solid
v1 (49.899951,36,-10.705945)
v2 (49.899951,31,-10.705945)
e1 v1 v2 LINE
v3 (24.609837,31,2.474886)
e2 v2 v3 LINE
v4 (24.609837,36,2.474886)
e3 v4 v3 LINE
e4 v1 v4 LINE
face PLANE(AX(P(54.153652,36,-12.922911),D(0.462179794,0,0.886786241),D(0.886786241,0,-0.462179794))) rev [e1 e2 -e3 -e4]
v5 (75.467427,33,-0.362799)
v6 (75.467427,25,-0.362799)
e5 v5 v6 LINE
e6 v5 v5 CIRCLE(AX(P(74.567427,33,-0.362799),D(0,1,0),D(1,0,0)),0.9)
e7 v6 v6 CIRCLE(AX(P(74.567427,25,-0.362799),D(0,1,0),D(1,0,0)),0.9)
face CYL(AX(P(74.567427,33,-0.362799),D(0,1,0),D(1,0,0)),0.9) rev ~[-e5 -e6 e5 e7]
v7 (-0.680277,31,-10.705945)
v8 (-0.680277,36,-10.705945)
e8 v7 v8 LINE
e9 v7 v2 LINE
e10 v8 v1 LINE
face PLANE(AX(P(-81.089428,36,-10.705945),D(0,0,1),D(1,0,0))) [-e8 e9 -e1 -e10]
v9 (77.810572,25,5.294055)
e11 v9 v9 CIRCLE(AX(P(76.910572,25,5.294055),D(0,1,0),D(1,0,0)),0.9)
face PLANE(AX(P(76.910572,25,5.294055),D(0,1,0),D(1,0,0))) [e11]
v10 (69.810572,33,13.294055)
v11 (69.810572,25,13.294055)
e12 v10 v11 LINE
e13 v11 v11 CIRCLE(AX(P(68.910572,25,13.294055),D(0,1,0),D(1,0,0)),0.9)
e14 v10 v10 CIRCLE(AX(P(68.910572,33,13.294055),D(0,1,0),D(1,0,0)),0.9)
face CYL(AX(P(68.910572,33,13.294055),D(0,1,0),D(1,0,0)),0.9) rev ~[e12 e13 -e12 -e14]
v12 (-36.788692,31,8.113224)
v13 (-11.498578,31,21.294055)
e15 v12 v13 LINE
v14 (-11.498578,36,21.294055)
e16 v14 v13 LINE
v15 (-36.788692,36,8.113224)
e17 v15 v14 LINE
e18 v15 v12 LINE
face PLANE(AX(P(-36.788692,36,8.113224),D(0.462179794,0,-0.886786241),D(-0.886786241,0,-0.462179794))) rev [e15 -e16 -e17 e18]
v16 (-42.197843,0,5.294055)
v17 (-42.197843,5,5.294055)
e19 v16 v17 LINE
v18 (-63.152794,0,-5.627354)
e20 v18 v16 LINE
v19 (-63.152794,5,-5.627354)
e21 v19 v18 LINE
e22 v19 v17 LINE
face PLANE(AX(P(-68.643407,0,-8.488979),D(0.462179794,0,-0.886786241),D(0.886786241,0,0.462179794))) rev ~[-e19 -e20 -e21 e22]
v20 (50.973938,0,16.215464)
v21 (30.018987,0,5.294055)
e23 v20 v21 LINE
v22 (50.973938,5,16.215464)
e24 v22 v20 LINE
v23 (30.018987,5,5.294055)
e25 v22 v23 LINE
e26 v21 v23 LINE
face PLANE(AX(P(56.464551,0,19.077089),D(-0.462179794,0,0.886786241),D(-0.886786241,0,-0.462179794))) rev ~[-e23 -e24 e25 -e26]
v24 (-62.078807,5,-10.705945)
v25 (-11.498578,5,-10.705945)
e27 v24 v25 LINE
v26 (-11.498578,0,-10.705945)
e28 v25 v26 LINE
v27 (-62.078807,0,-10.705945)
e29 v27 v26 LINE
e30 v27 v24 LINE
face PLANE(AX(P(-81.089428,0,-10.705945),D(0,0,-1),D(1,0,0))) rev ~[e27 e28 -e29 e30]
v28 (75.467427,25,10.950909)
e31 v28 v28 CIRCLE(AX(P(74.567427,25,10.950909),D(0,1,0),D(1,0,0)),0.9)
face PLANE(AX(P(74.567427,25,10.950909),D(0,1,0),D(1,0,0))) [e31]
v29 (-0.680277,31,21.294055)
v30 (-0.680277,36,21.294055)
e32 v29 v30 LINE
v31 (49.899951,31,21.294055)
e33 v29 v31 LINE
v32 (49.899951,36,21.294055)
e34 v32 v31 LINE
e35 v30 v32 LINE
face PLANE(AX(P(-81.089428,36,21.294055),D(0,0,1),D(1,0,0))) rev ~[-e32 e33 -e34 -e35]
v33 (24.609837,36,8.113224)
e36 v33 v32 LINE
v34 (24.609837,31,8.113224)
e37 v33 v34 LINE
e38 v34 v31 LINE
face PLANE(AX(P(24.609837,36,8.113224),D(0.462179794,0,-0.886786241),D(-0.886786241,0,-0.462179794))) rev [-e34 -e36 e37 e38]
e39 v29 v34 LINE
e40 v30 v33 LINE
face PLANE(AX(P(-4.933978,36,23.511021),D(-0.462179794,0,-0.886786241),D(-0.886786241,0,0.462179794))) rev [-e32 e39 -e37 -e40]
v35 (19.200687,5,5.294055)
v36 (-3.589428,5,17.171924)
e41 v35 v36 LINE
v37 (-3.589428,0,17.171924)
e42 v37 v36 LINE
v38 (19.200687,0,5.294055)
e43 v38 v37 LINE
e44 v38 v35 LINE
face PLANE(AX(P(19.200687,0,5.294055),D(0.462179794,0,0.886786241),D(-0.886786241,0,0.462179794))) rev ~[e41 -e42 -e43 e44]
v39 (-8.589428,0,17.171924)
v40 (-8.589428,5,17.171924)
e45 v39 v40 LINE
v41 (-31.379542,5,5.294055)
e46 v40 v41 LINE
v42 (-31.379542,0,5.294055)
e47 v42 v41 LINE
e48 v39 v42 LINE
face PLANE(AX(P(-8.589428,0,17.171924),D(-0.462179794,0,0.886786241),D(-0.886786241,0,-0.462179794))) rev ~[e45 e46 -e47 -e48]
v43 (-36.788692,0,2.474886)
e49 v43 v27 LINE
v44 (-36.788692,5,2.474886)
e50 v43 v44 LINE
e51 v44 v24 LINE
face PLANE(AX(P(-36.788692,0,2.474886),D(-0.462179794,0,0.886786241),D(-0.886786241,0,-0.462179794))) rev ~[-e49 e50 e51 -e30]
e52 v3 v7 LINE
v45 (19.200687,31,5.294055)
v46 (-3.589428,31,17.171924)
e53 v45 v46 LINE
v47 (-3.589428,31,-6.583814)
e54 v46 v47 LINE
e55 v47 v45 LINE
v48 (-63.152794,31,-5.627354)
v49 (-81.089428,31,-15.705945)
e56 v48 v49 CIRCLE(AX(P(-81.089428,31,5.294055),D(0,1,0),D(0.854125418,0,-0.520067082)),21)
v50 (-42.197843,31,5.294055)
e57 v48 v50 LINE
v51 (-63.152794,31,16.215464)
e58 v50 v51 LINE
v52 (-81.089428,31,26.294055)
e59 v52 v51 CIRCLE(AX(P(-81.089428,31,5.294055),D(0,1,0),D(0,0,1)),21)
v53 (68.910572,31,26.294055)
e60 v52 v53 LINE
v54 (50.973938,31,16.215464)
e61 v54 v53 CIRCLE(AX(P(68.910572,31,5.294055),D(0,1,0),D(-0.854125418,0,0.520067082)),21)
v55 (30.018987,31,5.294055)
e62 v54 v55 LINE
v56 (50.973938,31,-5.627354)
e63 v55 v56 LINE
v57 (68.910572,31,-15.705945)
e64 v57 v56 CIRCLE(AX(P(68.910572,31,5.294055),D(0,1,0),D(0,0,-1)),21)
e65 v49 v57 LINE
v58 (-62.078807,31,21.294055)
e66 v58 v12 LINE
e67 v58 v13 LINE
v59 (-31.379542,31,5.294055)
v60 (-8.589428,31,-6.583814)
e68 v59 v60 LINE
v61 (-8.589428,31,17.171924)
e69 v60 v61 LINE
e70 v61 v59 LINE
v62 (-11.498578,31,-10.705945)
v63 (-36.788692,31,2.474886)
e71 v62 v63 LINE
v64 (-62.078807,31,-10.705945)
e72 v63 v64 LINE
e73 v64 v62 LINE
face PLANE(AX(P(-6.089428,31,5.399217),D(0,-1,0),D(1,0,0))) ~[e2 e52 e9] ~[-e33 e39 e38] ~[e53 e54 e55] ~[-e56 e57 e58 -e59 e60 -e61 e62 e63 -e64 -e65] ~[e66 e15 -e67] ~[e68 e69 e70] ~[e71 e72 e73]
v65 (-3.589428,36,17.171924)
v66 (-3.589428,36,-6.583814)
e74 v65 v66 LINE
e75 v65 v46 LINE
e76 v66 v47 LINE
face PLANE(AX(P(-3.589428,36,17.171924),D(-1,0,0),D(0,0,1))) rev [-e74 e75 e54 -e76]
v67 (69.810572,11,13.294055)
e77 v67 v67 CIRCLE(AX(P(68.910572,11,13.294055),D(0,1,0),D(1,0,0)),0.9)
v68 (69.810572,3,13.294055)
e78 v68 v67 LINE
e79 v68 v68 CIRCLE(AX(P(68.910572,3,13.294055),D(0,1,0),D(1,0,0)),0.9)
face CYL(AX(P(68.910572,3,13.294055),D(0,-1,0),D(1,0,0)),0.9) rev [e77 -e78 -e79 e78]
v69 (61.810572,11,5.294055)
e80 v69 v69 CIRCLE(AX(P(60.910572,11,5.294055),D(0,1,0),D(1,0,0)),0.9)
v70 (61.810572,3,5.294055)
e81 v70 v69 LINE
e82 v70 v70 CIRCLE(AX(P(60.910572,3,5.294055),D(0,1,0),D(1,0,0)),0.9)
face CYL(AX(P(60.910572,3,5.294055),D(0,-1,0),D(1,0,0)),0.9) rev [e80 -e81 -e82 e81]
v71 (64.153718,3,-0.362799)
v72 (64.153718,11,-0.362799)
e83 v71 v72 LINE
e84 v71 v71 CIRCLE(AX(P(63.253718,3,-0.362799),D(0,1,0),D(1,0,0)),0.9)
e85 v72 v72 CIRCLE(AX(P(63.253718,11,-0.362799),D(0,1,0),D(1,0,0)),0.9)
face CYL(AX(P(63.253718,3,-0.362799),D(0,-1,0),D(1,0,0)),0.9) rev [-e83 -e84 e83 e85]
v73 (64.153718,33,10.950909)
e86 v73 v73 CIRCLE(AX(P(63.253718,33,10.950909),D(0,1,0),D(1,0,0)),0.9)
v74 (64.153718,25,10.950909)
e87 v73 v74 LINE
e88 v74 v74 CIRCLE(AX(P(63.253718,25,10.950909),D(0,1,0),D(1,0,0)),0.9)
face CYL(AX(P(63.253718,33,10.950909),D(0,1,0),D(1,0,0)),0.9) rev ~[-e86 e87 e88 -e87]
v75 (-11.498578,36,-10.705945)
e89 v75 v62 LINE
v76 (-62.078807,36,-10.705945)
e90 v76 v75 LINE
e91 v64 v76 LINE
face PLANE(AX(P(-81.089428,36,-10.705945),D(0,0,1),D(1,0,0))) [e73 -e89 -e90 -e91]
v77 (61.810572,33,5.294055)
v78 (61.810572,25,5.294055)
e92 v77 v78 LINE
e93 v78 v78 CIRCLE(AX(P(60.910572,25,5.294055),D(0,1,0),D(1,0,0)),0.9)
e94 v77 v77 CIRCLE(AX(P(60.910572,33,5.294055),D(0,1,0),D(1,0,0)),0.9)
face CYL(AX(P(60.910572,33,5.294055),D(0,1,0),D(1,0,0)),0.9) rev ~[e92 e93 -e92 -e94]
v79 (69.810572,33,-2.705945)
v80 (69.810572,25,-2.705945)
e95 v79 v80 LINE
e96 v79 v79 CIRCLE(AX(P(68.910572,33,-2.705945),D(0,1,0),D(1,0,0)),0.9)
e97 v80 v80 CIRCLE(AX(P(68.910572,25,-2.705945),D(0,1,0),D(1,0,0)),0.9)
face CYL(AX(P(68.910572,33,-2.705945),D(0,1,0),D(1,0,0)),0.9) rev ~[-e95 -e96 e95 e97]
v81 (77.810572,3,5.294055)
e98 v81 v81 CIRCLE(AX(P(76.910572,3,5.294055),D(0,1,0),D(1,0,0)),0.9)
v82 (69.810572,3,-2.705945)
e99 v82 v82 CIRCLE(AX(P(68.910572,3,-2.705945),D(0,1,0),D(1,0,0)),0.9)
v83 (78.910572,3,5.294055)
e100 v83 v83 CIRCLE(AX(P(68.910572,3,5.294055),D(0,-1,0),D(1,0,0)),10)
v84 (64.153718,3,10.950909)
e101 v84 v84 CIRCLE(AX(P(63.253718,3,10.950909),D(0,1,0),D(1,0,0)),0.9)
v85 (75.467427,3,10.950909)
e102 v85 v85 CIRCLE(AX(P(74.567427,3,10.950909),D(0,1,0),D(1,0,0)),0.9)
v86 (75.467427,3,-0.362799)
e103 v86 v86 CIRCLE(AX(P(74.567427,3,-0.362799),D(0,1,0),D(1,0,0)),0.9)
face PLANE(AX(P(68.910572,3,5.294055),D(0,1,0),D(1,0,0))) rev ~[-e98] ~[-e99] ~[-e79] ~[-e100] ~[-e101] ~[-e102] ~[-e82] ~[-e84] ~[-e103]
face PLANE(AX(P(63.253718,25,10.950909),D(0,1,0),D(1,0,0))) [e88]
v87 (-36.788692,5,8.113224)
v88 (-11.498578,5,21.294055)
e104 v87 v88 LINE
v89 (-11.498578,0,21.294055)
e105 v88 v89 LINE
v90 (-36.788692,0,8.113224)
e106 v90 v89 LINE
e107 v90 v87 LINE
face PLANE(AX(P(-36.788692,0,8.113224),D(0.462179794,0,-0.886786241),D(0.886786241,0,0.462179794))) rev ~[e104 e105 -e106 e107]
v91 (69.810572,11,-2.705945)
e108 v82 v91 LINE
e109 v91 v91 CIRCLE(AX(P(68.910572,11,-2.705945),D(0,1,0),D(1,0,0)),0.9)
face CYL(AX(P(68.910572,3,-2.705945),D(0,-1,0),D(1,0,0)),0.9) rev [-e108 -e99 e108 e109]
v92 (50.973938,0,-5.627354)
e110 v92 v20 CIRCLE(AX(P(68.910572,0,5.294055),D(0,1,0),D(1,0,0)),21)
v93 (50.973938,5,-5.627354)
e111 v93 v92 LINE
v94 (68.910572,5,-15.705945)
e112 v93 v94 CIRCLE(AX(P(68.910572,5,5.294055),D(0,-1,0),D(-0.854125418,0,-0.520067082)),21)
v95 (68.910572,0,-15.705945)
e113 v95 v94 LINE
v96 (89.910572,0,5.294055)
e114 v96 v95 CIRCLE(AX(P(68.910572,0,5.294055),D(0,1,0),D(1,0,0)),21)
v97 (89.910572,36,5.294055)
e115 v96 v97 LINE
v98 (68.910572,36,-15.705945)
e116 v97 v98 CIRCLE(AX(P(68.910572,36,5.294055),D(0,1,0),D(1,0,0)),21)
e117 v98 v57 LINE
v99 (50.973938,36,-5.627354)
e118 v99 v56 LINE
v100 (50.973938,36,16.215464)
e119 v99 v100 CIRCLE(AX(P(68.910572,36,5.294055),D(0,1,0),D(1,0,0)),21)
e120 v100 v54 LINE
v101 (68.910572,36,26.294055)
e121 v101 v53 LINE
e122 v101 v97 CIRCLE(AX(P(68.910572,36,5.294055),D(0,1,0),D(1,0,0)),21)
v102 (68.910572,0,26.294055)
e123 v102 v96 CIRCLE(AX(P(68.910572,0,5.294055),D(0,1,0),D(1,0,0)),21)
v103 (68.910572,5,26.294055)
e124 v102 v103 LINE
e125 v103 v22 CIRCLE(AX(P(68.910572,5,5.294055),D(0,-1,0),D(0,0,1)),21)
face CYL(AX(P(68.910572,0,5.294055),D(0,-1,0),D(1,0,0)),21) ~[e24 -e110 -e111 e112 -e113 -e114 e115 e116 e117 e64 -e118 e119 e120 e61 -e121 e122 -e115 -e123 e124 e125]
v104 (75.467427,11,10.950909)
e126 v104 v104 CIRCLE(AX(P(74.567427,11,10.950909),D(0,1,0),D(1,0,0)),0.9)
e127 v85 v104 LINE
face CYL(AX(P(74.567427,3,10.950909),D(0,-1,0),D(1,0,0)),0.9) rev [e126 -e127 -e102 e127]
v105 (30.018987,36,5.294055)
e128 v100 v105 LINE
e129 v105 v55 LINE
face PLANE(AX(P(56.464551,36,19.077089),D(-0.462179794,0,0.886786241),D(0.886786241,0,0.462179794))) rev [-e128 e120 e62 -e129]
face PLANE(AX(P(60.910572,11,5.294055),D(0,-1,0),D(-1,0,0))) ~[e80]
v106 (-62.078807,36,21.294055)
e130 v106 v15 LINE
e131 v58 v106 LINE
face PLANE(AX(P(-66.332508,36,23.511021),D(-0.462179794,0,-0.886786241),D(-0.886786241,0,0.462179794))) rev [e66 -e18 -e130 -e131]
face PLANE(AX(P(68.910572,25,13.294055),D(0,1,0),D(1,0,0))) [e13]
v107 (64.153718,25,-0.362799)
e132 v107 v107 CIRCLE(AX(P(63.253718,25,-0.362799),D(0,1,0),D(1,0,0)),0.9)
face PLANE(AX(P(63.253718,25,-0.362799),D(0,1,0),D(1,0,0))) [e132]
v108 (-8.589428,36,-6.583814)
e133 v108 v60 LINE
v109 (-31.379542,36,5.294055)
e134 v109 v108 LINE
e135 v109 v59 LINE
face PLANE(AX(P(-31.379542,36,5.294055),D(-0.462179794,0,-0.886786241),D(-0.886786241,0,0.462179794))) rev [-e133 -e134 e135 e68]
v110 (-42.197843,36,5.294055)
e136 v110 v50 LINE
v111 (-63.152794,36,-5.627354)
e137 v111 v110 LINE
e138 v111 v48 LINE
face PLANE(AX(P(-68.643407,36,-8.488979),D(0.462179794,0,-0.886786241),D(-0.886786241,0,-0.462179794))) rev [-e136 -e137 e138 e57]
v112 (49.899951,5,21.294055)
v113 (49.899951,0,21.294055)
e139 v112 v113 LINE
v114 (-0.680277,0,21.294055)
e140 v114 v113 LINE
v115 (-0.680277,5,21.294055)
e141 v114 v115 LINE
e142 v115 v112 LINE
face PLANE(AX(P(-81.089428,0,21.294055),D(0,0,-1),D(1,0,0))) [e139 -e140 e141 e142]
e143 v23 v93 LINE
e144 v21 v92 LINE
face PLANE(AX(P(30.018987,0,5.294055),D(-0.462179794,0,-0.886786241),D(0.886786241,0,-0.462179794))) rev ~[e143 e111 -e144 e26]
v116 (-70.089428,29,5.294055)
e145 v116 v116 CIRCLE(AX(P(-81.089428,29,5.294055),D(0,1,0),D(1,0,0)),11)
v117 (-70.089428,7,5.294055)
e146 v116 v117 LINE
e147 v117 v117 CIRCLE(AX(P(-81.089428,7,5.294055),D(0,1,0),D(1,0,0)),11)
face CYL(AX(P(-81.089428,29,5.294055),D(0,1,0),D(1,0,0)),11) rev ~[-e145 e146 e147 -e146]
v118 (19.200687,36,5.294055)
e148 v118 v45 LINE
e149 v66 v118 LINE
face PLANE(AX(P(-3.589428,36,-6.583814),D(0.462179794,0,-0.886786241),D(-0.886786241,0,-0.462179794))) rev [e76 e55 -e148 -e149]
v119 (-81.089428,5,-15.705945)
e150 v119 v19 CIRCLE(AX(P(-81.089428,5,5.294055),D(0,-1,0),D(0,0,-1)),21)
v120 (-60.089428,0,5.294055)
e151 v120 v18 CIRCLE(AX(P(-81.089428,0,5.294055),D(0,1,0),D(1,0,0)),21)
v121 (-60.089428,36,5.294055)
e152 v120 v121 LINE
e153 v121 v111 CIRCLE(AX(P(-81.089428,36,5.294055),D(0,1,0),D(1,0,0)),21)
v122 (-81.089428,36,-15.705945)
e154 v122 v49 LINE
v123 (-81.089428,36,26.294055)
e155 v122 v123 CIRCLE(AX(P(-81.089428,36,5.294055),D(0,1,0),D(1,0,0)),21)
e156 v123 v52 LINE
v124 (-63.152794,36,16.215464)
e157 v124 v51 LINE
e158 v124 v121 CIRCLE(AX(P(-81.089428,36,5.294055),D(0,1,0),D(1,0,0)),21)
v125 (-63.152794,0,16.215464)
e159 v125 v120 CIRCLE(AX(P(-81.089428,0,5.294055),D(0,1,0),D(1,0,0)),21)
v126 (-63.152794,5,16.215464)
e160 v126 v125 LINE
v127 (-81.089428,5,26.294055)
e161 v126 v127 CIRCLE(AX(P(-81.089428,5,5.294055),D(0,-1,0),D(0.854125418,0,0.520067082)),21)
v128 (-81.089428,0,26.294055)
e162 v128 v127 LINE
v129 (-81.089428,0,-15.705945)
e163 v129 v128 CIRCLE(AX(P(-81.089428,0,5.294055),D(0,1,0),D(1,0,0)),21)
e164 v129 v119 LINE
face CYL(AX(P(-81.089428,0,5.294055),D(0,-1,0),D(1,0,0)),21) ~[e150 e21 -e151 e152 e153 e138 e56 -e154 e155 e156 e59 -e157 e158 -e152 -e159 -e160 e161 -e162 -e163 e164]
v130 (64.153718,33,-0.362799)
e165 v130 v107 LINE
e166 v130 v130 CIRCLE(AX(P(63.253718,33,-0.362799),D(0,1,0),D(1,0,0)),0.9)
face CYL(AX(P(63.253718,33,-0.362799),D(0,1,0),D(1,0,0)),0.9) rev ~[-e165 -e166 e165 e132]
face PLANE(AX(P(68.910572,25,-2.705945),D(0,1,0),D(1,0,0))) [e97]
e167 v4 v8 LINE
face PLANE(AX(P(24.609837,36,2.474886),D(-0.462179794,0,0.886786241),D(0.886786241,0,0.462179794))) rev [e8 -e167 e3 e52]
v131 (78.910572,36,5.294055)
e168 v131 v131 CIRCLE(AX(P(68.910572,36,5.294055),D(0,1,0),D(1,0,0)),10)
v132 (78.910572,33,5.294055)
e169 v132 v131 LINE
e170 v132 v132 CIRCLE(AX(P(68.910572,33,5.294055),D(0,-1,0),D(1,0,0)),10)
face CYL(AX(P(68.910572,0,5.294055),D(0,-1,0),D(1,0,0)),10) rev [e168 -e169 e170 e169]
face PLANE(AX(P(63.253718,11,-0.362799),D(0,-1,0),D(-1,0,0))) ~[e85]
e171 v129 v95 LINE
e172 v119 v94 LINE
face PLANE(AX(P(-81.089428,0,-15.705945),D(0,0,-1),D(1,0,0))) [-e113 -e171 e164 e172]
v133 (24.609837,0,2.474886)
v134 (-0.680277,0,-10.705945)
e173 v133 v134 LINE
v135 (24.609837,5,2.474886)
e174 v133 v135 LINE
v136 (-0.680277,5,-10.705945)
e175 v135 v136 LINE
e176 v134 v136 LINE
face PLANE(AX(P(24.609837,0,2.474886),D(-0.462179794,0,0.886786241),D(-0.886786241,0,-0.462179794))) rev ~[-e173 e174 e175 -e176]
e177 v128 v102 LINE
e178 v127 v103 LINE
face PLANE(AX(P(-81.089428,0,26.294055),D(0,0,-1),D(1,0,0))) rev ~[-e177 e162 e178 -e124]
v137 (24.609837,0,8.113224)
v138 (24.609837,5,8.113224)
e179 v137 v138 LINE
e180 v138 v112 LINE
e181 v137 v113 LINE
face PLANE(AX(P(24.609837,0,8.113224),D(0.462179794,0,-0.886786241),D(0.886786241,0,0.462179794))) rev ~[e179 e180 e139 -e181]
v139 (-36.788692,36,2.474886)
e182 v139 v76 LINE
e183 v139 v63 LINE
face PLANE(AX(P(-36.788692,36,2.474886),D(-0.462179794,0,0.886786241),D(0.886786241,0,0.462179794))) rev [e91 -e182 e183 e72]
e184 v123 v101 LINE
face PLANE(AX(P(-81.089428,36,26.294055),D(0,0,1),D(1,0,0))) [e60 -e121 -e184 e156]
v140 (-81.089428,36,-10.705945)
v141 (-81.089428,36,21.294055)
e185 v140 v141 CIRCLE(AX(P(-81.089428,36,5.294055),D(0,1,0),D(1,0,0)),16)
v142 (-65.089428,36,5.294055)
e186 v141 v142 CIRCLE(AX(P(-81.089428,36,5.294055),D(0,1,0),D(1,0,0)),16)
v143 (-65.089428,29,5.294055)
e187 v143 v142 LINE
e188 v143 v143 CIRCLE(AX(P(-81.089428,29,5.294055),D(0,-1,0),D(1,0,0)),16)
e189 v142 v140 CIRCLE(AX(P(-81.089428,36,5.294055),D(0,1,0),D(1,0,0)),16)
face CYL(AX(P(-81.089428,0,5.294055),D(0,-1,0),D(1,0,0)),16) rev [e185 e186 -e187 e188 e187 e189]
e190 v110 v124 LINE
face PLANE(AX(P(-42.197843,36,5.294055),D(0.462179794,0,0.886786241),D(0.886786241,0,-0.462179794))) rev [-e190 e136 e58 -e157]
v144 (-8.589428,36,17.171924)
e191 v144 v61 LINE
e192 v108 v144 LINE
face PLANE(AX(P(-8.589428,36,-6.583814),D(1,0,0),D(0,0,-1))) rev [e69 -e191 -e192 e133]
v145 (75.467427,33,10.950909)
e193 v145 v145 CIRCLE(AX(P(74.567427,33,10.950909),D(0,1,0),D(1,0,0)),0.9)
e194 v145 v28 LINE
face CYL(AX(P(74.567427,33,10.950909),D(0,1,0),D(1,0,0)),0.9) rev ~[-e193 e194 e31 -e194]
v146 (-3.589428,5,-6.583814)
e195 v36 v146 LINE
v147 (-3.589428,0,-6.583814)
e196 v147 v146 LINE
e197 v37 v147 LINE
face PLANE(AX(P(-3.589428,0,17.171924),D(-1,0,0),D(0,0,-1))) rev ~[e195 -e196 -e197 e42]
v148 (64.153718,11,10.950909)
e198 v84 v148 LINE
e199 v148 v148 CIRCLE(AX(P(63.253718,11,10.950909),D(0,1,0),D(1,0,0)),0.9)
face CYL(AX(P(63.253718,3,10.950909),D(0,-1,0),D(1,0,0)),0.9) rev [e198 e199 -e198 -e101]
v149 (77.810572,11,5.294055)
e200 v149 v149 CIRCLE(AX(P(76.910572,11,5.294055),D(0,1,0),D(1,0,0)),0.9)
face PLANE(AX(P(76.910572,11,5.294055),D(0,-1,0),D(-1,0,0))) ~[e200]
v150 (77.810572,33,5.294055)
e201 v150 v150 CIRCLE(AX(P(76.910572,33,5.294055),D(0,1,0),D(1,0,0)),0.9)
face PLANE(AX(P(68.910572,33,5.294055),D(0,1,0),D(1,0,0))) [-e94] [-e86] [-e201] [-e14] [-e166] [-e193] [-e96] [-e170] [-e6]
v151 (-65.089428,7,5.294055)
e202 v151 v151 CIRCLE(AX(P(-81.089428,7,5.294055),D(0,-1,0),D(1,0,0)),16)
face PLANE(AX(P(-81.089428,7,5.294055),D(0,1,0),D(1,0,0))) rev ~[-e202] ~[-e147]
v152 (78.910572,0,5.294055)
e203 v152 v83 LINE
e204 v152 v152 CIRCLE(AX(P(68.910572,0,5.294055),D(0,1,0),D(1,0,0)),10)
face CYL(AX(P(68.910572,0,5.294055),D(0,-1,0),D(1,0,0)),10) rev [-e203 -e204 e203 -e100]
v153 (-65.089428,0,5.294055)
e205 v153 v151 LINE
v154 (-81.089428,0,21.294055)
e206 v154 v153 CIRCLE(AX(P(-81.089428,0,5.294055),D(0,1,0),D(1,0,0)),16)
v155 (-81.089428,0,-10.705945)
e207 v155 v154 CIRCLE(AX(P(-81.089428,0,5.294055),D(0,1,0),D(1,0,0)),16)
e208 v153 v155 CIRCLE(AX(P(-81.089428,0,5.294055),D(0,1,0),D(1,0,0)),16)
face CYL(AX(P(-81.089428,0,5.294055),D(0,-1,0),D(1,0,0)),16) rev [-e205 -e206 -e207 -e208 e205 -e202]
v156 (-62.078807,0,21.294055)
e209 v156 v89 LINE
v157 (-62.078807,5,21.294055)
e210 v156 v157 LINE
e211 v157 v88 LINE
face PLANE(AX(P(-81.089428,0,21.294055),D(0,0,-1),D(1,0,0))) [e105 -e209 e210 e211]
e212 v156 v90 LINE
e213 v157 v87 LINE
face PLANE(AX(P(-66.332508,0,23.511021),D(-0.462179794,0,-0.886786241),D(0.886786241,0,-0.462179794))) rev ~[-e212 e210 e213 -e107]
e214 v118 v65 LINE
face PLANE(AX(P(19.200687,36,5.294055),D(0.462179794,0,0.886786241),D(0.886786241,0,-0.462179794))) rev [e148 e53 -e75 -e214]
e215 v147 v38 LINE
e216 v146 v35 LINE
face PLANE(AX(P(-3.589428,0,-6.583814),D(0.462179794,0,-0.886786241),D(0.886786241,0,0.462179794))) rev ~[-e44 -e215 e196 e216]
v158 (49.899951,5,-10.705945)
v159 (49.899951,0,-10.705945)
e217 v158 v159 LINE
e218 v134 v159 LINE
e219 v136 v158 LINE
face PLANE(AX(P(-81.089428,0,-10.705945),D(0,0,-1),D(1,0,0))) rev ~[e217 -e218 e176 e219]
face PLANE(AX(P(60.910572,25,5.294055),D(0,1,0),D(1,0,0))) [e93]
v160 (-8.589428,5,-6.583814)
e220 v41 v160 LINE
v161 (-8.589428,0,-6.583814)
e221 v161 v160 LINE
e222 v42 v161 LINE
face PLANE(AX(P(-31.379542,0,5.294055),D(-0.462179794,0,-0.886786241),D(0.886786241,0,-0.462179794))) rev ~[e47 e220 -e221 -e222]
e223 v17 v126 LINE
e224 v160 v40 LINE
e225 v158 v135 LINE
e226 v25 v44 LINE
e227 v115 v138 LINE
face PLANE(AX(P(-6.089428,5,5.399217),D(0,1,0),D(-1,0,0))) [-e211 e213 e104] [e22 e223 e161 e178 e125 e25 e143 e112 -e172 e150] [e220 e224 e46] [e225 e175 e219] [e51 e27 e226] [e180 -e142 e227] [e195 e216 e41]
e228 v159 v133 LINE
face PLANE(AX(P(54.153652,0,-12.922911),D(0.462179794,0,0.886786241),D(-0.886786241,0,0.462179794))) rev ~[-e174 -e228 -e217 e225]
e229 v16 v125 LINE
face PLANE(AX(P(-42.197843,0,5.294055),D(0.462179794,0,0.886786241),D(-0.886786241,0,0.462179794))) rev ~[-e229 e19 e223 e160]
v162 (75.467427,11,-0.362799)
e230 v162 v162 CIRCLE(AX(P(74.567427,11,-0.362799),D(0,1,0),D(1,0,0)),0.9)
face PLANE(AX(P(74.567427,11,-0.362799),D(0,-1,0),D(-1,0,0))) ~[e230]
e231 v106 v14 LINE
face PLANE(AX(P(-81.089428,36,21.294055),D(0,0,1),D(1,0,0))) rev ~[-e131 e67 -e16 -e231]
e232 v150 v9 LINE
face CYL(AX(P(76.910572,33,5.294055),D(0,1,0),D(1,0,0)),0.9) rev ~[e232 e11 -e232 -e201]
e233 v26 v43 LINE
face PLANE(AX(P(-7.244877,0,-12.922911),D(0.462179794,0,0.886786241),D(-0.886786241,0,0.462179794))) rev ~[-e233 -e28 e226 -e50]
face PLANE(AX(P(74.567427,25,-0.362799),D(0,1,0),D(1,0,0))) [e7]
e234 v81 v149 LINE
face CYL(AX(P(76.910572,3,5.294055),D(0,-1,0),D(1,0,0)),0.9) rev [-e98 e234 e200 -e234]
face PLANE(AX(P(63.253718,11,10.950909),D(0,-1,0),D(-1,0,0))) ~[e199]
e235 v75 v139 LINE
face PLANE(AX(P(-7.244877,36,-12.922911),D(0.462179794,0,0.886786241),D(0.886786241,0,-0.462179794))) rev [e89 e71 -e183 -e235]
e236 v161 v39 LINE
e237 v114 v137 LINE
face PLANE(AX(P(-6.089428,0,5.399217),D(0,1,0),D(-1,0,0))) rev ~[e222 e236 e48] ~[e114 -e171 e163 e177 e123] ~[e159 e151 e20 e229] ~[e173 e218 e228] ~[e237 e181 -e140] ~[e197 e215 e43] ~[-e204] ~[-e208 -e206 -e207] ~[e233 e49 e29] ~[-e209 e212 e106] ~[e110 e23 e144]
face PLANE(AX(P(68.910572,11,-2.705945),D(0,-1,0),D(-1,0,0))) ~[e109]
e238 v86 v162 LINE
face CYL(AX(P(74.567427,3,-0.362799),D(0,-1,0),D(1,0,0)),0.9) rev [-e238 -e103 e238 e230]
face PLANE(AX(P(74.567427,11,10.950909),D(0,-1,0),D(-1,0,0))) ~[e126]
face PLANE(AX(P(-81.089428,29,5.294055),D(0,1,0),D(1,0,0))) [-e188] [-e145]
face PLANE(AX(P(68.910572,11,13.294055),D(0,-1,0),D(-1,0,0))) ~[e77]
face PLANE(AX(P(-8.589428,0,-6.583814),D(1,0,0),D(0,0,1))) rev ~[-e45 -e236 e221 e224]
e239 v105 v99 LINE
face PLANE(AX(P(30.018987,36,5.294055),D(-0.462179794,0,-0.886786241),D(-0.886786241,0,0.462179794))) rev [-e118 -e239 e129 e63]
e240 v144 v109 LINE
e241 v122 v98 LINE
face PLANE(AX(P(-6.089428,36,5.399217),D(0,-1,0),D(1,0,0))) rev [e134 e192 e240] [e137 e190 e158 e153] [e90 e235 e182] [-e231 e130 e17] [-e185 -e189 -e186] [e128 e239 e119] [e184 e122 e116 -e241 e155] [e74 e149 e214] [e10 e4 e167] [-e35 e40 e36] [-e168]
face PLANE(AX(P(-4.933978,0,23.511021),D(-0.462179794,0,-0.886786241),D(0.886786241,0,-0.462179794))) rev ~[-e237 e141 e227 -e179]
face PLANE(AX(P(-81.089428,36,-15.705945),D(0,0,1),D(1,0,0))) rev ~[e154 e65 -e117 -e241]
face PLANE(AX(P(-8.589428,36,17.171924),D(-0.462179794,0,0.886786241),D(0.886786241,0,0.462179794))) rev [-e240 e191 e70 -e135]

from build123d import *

# Parameters (mm, degrees)
SKETCH_1_R          = 21
SKETCH_1_R_2        = 10
EXTRUDE_1_DEPTH     = 36
SKETCH_1_R_3        = 16
EXTRUDE_1_2_DEPTH   = 36
SKETCH_2_W          = 150
SKETCH_2_H          = 5
EXTRUDE_3_DEPTH     = 5
SKETCH_3_W          = 150
SKETCH_3_H          = 5
EXTRUDE_4_DEPTH     = 5
EXTRUDE_5_DEPTH     = 5
EXTRUDE_START       = -3
SKETCH_7_R          = 16
EXTRUDE_7_DEPTH     = 30
SKETCH_8_R          = 0.9
CUT_EXTRUDE_1_DEPTH = 8
EXTRUDE_START_2     = -7
SKETCH_10_R         = 18.243216987
SKETCH_10_R_2       = 11
EXTRUDE_8_DEPTH     = 22


with BuildPart() as part:
    # 스케치1 → 보스-돌출1 (new body)
    with BuildSketch(Plane(origin=(0, 0, 0), x_dir=(1, 0, 0), z_dir=(0, 1, 0))):
        with Locations((68.910572273, -5.294054995)):
            Circle(SKETCH_1_R)
        with Locations((68.910572273, -5.294054995)):
            Circle(SKETCH_1_R_2, mode=Mode.SUBTRACT)
    extrude(amount=EXTRUDE_1_DEPTH)



with BuildPart() as body_2:
    # 스케치1 → Extrude 1 2 (new body)
    with BuildSketch(Plane(origin=(0, 0, 0), x_dir=(1, 0, 0), z_dir=(0, 1, 0))):
        with Locations((-81.089427727, -5.294054995)):
            Circle(SKETCH_1_R)
        with Locations((-81.089427727, -5.294054995)):
            Circle(SKETCH_1_R_3, mode=Mode.SUBTRACT)
    extrude(amount=EXTRUDE_1_2_DEPTH)


with BuildPart() as part_1:
    add(part.part)

    add(body_2.part)  # 보스-돌출3 merges body 2
    # 스케치2 → 보스-돌출3 (add)
    with BuildSketch(Plane(origin=(0, 36, 0), x_dir=(1, 0, 0), z_dir=(0, 1, 0))):
        with Locations((-6.089427727, -23.794054995)):
            Rectangle(SKETCH_2_W, SKETCH_2_H)
        with Locations((-6.089427727, 13.205945005)):
            Rectangle(SKETCH_2_W, SKETCH_2_H)
    extrude(amount=-EXTRUDE_3_DEPTH)

    # 스케치3 → 보스-돌출4 (add)
    with BuildSketch(Plane.XZ):
        with Locations((-6.089427727, -13.205945005)):
            Rectangle(SKETCH_3_W, SKETCH_3_H)
        with Locations((-6.089427727, 23.794054995)):
            Rectangle(SKETCH_3_W, SKETCH_3_H)
    extrude(amount=-EXTRUDE_4_DEPTH)

    # 스케치4 → 보스-돌출5 (add)
    with BuildSketch(Plane.XZ):
        Polygon((-36.788692473, 8.113223678), (-7.244877213, 23.511020598), (-6.089427727, 21.294054995), (-4.933978242, 23.511020598), (24.609837018, 8.113223678), (54.153652279, 23.511020598), (56.46455125, 19.077089392), (30.018987378, 5.294054995), (56.46455125, -8.488979402), (54.153652279, -12.922910608), (24.609837018, 2.474886312), (-4.933978242, -12.922910608), (-7.244877213, -12.922910608), (-36.788692473, 2.474886312), (-66.332507733, -12.922910608), (-68.643406704, -8.488979402), (-42.197842833, 5.294054995), (-68.643406704, 19.077089392), (-66.332507733, 23.511020598), align=None)
        Polygon((-31.379542113, 5.294054995), (-8.589427727, -6.583813521), (-8.589427727, 17.17192351), align=None, mode=Mode.SUBTRACT)
        Polygon((-3.589427727, -6.583813521), (19.200686659, 5.294054995), (-3.589427727, 17.17192351), align=None, mode=Mode.SUBTRACT)
    extrude_5 = extrude(amount=-EXTRUDE_5_DEPTH)

    # 스케치7 → 보스-돌출7 (add)
    with BuildSketch(Plane(origin=(0, 36, 0), x_dir=(1, 0, 0), z_dir=(0, 1, 0)).offset(EXTRUDE_START)):
        with Locations((68.910572273, -5.294054995)):
            Circle(SKETCH_7_R)
    extrude(amount=-EXTRUDE_7_DEPTH)

    # 스케치8 → 컷-돌출1 (cut)
    with BuildSketch(Plane(origin=(0, 33, 0), x_dir=(1, 0, 0), z_dir=(0, 1, 0))):
        with Locations((76.910572273, -5.294054995)):
            Circle(SKETCH_8_R)
        with Locations((68.910572273, 2.705945005)):
            Circle(SKETCH_8_R)
        with Locations((74.567426522, 0.362799255)):
            Circle(SKETCH_8_R)
        with Locations((63.253718023, 0.362799255)):
            Circle(SKETCH_8_R)
        with Locations((60.910572273, -5.294054995)):
            Circle(SKETCH_8_R)
        with Locations((68.910572273, -13.294054995)):
            Circle(SKETCH_8_R)
        with Locations((63.253718023, -10.950909244)):
            Circle(SKETCH_8_R)
        with Locations((74.567426522, -10.950909244)):
            Circle(SKETCH_8_R)
    cut_extrude_1 = extrude(amount=-CUT_EXTRUDE_1_DEPTH, mode=Mode.SUBTRACT)

    # 대칭 복사1: 컷-돌출1 across plane
    add(cut_extrude_1.mirror(Plane.ZX.offset(18)), mode=Mode.SUBTRACT)

    # 대칭 복사2: 보스-돌출5 across plane
    add(extrude_5.mirror(Plane.ZX.offset(18)))

    # 스케치10 → 보스-돌출8 (add)
    with BuildSketch(Plane(origin=(0, 36, 0), x_dir=(1, 0, 0), z_dir=(0, 1, 0)).offset(EXTRUDE_START_2)):
        with Locations((-81.089427727, -5.294054995)):
            Circle(SKETCH_10_R)
        with Locations((-81.089427727, -5.294054995)):
            Circle(SKETCH_10_R_2, mode=Mode.SUBTRACT)
    extrude(amount=-EXTRUDE_8_DEPTH)


solid = part_1.part
